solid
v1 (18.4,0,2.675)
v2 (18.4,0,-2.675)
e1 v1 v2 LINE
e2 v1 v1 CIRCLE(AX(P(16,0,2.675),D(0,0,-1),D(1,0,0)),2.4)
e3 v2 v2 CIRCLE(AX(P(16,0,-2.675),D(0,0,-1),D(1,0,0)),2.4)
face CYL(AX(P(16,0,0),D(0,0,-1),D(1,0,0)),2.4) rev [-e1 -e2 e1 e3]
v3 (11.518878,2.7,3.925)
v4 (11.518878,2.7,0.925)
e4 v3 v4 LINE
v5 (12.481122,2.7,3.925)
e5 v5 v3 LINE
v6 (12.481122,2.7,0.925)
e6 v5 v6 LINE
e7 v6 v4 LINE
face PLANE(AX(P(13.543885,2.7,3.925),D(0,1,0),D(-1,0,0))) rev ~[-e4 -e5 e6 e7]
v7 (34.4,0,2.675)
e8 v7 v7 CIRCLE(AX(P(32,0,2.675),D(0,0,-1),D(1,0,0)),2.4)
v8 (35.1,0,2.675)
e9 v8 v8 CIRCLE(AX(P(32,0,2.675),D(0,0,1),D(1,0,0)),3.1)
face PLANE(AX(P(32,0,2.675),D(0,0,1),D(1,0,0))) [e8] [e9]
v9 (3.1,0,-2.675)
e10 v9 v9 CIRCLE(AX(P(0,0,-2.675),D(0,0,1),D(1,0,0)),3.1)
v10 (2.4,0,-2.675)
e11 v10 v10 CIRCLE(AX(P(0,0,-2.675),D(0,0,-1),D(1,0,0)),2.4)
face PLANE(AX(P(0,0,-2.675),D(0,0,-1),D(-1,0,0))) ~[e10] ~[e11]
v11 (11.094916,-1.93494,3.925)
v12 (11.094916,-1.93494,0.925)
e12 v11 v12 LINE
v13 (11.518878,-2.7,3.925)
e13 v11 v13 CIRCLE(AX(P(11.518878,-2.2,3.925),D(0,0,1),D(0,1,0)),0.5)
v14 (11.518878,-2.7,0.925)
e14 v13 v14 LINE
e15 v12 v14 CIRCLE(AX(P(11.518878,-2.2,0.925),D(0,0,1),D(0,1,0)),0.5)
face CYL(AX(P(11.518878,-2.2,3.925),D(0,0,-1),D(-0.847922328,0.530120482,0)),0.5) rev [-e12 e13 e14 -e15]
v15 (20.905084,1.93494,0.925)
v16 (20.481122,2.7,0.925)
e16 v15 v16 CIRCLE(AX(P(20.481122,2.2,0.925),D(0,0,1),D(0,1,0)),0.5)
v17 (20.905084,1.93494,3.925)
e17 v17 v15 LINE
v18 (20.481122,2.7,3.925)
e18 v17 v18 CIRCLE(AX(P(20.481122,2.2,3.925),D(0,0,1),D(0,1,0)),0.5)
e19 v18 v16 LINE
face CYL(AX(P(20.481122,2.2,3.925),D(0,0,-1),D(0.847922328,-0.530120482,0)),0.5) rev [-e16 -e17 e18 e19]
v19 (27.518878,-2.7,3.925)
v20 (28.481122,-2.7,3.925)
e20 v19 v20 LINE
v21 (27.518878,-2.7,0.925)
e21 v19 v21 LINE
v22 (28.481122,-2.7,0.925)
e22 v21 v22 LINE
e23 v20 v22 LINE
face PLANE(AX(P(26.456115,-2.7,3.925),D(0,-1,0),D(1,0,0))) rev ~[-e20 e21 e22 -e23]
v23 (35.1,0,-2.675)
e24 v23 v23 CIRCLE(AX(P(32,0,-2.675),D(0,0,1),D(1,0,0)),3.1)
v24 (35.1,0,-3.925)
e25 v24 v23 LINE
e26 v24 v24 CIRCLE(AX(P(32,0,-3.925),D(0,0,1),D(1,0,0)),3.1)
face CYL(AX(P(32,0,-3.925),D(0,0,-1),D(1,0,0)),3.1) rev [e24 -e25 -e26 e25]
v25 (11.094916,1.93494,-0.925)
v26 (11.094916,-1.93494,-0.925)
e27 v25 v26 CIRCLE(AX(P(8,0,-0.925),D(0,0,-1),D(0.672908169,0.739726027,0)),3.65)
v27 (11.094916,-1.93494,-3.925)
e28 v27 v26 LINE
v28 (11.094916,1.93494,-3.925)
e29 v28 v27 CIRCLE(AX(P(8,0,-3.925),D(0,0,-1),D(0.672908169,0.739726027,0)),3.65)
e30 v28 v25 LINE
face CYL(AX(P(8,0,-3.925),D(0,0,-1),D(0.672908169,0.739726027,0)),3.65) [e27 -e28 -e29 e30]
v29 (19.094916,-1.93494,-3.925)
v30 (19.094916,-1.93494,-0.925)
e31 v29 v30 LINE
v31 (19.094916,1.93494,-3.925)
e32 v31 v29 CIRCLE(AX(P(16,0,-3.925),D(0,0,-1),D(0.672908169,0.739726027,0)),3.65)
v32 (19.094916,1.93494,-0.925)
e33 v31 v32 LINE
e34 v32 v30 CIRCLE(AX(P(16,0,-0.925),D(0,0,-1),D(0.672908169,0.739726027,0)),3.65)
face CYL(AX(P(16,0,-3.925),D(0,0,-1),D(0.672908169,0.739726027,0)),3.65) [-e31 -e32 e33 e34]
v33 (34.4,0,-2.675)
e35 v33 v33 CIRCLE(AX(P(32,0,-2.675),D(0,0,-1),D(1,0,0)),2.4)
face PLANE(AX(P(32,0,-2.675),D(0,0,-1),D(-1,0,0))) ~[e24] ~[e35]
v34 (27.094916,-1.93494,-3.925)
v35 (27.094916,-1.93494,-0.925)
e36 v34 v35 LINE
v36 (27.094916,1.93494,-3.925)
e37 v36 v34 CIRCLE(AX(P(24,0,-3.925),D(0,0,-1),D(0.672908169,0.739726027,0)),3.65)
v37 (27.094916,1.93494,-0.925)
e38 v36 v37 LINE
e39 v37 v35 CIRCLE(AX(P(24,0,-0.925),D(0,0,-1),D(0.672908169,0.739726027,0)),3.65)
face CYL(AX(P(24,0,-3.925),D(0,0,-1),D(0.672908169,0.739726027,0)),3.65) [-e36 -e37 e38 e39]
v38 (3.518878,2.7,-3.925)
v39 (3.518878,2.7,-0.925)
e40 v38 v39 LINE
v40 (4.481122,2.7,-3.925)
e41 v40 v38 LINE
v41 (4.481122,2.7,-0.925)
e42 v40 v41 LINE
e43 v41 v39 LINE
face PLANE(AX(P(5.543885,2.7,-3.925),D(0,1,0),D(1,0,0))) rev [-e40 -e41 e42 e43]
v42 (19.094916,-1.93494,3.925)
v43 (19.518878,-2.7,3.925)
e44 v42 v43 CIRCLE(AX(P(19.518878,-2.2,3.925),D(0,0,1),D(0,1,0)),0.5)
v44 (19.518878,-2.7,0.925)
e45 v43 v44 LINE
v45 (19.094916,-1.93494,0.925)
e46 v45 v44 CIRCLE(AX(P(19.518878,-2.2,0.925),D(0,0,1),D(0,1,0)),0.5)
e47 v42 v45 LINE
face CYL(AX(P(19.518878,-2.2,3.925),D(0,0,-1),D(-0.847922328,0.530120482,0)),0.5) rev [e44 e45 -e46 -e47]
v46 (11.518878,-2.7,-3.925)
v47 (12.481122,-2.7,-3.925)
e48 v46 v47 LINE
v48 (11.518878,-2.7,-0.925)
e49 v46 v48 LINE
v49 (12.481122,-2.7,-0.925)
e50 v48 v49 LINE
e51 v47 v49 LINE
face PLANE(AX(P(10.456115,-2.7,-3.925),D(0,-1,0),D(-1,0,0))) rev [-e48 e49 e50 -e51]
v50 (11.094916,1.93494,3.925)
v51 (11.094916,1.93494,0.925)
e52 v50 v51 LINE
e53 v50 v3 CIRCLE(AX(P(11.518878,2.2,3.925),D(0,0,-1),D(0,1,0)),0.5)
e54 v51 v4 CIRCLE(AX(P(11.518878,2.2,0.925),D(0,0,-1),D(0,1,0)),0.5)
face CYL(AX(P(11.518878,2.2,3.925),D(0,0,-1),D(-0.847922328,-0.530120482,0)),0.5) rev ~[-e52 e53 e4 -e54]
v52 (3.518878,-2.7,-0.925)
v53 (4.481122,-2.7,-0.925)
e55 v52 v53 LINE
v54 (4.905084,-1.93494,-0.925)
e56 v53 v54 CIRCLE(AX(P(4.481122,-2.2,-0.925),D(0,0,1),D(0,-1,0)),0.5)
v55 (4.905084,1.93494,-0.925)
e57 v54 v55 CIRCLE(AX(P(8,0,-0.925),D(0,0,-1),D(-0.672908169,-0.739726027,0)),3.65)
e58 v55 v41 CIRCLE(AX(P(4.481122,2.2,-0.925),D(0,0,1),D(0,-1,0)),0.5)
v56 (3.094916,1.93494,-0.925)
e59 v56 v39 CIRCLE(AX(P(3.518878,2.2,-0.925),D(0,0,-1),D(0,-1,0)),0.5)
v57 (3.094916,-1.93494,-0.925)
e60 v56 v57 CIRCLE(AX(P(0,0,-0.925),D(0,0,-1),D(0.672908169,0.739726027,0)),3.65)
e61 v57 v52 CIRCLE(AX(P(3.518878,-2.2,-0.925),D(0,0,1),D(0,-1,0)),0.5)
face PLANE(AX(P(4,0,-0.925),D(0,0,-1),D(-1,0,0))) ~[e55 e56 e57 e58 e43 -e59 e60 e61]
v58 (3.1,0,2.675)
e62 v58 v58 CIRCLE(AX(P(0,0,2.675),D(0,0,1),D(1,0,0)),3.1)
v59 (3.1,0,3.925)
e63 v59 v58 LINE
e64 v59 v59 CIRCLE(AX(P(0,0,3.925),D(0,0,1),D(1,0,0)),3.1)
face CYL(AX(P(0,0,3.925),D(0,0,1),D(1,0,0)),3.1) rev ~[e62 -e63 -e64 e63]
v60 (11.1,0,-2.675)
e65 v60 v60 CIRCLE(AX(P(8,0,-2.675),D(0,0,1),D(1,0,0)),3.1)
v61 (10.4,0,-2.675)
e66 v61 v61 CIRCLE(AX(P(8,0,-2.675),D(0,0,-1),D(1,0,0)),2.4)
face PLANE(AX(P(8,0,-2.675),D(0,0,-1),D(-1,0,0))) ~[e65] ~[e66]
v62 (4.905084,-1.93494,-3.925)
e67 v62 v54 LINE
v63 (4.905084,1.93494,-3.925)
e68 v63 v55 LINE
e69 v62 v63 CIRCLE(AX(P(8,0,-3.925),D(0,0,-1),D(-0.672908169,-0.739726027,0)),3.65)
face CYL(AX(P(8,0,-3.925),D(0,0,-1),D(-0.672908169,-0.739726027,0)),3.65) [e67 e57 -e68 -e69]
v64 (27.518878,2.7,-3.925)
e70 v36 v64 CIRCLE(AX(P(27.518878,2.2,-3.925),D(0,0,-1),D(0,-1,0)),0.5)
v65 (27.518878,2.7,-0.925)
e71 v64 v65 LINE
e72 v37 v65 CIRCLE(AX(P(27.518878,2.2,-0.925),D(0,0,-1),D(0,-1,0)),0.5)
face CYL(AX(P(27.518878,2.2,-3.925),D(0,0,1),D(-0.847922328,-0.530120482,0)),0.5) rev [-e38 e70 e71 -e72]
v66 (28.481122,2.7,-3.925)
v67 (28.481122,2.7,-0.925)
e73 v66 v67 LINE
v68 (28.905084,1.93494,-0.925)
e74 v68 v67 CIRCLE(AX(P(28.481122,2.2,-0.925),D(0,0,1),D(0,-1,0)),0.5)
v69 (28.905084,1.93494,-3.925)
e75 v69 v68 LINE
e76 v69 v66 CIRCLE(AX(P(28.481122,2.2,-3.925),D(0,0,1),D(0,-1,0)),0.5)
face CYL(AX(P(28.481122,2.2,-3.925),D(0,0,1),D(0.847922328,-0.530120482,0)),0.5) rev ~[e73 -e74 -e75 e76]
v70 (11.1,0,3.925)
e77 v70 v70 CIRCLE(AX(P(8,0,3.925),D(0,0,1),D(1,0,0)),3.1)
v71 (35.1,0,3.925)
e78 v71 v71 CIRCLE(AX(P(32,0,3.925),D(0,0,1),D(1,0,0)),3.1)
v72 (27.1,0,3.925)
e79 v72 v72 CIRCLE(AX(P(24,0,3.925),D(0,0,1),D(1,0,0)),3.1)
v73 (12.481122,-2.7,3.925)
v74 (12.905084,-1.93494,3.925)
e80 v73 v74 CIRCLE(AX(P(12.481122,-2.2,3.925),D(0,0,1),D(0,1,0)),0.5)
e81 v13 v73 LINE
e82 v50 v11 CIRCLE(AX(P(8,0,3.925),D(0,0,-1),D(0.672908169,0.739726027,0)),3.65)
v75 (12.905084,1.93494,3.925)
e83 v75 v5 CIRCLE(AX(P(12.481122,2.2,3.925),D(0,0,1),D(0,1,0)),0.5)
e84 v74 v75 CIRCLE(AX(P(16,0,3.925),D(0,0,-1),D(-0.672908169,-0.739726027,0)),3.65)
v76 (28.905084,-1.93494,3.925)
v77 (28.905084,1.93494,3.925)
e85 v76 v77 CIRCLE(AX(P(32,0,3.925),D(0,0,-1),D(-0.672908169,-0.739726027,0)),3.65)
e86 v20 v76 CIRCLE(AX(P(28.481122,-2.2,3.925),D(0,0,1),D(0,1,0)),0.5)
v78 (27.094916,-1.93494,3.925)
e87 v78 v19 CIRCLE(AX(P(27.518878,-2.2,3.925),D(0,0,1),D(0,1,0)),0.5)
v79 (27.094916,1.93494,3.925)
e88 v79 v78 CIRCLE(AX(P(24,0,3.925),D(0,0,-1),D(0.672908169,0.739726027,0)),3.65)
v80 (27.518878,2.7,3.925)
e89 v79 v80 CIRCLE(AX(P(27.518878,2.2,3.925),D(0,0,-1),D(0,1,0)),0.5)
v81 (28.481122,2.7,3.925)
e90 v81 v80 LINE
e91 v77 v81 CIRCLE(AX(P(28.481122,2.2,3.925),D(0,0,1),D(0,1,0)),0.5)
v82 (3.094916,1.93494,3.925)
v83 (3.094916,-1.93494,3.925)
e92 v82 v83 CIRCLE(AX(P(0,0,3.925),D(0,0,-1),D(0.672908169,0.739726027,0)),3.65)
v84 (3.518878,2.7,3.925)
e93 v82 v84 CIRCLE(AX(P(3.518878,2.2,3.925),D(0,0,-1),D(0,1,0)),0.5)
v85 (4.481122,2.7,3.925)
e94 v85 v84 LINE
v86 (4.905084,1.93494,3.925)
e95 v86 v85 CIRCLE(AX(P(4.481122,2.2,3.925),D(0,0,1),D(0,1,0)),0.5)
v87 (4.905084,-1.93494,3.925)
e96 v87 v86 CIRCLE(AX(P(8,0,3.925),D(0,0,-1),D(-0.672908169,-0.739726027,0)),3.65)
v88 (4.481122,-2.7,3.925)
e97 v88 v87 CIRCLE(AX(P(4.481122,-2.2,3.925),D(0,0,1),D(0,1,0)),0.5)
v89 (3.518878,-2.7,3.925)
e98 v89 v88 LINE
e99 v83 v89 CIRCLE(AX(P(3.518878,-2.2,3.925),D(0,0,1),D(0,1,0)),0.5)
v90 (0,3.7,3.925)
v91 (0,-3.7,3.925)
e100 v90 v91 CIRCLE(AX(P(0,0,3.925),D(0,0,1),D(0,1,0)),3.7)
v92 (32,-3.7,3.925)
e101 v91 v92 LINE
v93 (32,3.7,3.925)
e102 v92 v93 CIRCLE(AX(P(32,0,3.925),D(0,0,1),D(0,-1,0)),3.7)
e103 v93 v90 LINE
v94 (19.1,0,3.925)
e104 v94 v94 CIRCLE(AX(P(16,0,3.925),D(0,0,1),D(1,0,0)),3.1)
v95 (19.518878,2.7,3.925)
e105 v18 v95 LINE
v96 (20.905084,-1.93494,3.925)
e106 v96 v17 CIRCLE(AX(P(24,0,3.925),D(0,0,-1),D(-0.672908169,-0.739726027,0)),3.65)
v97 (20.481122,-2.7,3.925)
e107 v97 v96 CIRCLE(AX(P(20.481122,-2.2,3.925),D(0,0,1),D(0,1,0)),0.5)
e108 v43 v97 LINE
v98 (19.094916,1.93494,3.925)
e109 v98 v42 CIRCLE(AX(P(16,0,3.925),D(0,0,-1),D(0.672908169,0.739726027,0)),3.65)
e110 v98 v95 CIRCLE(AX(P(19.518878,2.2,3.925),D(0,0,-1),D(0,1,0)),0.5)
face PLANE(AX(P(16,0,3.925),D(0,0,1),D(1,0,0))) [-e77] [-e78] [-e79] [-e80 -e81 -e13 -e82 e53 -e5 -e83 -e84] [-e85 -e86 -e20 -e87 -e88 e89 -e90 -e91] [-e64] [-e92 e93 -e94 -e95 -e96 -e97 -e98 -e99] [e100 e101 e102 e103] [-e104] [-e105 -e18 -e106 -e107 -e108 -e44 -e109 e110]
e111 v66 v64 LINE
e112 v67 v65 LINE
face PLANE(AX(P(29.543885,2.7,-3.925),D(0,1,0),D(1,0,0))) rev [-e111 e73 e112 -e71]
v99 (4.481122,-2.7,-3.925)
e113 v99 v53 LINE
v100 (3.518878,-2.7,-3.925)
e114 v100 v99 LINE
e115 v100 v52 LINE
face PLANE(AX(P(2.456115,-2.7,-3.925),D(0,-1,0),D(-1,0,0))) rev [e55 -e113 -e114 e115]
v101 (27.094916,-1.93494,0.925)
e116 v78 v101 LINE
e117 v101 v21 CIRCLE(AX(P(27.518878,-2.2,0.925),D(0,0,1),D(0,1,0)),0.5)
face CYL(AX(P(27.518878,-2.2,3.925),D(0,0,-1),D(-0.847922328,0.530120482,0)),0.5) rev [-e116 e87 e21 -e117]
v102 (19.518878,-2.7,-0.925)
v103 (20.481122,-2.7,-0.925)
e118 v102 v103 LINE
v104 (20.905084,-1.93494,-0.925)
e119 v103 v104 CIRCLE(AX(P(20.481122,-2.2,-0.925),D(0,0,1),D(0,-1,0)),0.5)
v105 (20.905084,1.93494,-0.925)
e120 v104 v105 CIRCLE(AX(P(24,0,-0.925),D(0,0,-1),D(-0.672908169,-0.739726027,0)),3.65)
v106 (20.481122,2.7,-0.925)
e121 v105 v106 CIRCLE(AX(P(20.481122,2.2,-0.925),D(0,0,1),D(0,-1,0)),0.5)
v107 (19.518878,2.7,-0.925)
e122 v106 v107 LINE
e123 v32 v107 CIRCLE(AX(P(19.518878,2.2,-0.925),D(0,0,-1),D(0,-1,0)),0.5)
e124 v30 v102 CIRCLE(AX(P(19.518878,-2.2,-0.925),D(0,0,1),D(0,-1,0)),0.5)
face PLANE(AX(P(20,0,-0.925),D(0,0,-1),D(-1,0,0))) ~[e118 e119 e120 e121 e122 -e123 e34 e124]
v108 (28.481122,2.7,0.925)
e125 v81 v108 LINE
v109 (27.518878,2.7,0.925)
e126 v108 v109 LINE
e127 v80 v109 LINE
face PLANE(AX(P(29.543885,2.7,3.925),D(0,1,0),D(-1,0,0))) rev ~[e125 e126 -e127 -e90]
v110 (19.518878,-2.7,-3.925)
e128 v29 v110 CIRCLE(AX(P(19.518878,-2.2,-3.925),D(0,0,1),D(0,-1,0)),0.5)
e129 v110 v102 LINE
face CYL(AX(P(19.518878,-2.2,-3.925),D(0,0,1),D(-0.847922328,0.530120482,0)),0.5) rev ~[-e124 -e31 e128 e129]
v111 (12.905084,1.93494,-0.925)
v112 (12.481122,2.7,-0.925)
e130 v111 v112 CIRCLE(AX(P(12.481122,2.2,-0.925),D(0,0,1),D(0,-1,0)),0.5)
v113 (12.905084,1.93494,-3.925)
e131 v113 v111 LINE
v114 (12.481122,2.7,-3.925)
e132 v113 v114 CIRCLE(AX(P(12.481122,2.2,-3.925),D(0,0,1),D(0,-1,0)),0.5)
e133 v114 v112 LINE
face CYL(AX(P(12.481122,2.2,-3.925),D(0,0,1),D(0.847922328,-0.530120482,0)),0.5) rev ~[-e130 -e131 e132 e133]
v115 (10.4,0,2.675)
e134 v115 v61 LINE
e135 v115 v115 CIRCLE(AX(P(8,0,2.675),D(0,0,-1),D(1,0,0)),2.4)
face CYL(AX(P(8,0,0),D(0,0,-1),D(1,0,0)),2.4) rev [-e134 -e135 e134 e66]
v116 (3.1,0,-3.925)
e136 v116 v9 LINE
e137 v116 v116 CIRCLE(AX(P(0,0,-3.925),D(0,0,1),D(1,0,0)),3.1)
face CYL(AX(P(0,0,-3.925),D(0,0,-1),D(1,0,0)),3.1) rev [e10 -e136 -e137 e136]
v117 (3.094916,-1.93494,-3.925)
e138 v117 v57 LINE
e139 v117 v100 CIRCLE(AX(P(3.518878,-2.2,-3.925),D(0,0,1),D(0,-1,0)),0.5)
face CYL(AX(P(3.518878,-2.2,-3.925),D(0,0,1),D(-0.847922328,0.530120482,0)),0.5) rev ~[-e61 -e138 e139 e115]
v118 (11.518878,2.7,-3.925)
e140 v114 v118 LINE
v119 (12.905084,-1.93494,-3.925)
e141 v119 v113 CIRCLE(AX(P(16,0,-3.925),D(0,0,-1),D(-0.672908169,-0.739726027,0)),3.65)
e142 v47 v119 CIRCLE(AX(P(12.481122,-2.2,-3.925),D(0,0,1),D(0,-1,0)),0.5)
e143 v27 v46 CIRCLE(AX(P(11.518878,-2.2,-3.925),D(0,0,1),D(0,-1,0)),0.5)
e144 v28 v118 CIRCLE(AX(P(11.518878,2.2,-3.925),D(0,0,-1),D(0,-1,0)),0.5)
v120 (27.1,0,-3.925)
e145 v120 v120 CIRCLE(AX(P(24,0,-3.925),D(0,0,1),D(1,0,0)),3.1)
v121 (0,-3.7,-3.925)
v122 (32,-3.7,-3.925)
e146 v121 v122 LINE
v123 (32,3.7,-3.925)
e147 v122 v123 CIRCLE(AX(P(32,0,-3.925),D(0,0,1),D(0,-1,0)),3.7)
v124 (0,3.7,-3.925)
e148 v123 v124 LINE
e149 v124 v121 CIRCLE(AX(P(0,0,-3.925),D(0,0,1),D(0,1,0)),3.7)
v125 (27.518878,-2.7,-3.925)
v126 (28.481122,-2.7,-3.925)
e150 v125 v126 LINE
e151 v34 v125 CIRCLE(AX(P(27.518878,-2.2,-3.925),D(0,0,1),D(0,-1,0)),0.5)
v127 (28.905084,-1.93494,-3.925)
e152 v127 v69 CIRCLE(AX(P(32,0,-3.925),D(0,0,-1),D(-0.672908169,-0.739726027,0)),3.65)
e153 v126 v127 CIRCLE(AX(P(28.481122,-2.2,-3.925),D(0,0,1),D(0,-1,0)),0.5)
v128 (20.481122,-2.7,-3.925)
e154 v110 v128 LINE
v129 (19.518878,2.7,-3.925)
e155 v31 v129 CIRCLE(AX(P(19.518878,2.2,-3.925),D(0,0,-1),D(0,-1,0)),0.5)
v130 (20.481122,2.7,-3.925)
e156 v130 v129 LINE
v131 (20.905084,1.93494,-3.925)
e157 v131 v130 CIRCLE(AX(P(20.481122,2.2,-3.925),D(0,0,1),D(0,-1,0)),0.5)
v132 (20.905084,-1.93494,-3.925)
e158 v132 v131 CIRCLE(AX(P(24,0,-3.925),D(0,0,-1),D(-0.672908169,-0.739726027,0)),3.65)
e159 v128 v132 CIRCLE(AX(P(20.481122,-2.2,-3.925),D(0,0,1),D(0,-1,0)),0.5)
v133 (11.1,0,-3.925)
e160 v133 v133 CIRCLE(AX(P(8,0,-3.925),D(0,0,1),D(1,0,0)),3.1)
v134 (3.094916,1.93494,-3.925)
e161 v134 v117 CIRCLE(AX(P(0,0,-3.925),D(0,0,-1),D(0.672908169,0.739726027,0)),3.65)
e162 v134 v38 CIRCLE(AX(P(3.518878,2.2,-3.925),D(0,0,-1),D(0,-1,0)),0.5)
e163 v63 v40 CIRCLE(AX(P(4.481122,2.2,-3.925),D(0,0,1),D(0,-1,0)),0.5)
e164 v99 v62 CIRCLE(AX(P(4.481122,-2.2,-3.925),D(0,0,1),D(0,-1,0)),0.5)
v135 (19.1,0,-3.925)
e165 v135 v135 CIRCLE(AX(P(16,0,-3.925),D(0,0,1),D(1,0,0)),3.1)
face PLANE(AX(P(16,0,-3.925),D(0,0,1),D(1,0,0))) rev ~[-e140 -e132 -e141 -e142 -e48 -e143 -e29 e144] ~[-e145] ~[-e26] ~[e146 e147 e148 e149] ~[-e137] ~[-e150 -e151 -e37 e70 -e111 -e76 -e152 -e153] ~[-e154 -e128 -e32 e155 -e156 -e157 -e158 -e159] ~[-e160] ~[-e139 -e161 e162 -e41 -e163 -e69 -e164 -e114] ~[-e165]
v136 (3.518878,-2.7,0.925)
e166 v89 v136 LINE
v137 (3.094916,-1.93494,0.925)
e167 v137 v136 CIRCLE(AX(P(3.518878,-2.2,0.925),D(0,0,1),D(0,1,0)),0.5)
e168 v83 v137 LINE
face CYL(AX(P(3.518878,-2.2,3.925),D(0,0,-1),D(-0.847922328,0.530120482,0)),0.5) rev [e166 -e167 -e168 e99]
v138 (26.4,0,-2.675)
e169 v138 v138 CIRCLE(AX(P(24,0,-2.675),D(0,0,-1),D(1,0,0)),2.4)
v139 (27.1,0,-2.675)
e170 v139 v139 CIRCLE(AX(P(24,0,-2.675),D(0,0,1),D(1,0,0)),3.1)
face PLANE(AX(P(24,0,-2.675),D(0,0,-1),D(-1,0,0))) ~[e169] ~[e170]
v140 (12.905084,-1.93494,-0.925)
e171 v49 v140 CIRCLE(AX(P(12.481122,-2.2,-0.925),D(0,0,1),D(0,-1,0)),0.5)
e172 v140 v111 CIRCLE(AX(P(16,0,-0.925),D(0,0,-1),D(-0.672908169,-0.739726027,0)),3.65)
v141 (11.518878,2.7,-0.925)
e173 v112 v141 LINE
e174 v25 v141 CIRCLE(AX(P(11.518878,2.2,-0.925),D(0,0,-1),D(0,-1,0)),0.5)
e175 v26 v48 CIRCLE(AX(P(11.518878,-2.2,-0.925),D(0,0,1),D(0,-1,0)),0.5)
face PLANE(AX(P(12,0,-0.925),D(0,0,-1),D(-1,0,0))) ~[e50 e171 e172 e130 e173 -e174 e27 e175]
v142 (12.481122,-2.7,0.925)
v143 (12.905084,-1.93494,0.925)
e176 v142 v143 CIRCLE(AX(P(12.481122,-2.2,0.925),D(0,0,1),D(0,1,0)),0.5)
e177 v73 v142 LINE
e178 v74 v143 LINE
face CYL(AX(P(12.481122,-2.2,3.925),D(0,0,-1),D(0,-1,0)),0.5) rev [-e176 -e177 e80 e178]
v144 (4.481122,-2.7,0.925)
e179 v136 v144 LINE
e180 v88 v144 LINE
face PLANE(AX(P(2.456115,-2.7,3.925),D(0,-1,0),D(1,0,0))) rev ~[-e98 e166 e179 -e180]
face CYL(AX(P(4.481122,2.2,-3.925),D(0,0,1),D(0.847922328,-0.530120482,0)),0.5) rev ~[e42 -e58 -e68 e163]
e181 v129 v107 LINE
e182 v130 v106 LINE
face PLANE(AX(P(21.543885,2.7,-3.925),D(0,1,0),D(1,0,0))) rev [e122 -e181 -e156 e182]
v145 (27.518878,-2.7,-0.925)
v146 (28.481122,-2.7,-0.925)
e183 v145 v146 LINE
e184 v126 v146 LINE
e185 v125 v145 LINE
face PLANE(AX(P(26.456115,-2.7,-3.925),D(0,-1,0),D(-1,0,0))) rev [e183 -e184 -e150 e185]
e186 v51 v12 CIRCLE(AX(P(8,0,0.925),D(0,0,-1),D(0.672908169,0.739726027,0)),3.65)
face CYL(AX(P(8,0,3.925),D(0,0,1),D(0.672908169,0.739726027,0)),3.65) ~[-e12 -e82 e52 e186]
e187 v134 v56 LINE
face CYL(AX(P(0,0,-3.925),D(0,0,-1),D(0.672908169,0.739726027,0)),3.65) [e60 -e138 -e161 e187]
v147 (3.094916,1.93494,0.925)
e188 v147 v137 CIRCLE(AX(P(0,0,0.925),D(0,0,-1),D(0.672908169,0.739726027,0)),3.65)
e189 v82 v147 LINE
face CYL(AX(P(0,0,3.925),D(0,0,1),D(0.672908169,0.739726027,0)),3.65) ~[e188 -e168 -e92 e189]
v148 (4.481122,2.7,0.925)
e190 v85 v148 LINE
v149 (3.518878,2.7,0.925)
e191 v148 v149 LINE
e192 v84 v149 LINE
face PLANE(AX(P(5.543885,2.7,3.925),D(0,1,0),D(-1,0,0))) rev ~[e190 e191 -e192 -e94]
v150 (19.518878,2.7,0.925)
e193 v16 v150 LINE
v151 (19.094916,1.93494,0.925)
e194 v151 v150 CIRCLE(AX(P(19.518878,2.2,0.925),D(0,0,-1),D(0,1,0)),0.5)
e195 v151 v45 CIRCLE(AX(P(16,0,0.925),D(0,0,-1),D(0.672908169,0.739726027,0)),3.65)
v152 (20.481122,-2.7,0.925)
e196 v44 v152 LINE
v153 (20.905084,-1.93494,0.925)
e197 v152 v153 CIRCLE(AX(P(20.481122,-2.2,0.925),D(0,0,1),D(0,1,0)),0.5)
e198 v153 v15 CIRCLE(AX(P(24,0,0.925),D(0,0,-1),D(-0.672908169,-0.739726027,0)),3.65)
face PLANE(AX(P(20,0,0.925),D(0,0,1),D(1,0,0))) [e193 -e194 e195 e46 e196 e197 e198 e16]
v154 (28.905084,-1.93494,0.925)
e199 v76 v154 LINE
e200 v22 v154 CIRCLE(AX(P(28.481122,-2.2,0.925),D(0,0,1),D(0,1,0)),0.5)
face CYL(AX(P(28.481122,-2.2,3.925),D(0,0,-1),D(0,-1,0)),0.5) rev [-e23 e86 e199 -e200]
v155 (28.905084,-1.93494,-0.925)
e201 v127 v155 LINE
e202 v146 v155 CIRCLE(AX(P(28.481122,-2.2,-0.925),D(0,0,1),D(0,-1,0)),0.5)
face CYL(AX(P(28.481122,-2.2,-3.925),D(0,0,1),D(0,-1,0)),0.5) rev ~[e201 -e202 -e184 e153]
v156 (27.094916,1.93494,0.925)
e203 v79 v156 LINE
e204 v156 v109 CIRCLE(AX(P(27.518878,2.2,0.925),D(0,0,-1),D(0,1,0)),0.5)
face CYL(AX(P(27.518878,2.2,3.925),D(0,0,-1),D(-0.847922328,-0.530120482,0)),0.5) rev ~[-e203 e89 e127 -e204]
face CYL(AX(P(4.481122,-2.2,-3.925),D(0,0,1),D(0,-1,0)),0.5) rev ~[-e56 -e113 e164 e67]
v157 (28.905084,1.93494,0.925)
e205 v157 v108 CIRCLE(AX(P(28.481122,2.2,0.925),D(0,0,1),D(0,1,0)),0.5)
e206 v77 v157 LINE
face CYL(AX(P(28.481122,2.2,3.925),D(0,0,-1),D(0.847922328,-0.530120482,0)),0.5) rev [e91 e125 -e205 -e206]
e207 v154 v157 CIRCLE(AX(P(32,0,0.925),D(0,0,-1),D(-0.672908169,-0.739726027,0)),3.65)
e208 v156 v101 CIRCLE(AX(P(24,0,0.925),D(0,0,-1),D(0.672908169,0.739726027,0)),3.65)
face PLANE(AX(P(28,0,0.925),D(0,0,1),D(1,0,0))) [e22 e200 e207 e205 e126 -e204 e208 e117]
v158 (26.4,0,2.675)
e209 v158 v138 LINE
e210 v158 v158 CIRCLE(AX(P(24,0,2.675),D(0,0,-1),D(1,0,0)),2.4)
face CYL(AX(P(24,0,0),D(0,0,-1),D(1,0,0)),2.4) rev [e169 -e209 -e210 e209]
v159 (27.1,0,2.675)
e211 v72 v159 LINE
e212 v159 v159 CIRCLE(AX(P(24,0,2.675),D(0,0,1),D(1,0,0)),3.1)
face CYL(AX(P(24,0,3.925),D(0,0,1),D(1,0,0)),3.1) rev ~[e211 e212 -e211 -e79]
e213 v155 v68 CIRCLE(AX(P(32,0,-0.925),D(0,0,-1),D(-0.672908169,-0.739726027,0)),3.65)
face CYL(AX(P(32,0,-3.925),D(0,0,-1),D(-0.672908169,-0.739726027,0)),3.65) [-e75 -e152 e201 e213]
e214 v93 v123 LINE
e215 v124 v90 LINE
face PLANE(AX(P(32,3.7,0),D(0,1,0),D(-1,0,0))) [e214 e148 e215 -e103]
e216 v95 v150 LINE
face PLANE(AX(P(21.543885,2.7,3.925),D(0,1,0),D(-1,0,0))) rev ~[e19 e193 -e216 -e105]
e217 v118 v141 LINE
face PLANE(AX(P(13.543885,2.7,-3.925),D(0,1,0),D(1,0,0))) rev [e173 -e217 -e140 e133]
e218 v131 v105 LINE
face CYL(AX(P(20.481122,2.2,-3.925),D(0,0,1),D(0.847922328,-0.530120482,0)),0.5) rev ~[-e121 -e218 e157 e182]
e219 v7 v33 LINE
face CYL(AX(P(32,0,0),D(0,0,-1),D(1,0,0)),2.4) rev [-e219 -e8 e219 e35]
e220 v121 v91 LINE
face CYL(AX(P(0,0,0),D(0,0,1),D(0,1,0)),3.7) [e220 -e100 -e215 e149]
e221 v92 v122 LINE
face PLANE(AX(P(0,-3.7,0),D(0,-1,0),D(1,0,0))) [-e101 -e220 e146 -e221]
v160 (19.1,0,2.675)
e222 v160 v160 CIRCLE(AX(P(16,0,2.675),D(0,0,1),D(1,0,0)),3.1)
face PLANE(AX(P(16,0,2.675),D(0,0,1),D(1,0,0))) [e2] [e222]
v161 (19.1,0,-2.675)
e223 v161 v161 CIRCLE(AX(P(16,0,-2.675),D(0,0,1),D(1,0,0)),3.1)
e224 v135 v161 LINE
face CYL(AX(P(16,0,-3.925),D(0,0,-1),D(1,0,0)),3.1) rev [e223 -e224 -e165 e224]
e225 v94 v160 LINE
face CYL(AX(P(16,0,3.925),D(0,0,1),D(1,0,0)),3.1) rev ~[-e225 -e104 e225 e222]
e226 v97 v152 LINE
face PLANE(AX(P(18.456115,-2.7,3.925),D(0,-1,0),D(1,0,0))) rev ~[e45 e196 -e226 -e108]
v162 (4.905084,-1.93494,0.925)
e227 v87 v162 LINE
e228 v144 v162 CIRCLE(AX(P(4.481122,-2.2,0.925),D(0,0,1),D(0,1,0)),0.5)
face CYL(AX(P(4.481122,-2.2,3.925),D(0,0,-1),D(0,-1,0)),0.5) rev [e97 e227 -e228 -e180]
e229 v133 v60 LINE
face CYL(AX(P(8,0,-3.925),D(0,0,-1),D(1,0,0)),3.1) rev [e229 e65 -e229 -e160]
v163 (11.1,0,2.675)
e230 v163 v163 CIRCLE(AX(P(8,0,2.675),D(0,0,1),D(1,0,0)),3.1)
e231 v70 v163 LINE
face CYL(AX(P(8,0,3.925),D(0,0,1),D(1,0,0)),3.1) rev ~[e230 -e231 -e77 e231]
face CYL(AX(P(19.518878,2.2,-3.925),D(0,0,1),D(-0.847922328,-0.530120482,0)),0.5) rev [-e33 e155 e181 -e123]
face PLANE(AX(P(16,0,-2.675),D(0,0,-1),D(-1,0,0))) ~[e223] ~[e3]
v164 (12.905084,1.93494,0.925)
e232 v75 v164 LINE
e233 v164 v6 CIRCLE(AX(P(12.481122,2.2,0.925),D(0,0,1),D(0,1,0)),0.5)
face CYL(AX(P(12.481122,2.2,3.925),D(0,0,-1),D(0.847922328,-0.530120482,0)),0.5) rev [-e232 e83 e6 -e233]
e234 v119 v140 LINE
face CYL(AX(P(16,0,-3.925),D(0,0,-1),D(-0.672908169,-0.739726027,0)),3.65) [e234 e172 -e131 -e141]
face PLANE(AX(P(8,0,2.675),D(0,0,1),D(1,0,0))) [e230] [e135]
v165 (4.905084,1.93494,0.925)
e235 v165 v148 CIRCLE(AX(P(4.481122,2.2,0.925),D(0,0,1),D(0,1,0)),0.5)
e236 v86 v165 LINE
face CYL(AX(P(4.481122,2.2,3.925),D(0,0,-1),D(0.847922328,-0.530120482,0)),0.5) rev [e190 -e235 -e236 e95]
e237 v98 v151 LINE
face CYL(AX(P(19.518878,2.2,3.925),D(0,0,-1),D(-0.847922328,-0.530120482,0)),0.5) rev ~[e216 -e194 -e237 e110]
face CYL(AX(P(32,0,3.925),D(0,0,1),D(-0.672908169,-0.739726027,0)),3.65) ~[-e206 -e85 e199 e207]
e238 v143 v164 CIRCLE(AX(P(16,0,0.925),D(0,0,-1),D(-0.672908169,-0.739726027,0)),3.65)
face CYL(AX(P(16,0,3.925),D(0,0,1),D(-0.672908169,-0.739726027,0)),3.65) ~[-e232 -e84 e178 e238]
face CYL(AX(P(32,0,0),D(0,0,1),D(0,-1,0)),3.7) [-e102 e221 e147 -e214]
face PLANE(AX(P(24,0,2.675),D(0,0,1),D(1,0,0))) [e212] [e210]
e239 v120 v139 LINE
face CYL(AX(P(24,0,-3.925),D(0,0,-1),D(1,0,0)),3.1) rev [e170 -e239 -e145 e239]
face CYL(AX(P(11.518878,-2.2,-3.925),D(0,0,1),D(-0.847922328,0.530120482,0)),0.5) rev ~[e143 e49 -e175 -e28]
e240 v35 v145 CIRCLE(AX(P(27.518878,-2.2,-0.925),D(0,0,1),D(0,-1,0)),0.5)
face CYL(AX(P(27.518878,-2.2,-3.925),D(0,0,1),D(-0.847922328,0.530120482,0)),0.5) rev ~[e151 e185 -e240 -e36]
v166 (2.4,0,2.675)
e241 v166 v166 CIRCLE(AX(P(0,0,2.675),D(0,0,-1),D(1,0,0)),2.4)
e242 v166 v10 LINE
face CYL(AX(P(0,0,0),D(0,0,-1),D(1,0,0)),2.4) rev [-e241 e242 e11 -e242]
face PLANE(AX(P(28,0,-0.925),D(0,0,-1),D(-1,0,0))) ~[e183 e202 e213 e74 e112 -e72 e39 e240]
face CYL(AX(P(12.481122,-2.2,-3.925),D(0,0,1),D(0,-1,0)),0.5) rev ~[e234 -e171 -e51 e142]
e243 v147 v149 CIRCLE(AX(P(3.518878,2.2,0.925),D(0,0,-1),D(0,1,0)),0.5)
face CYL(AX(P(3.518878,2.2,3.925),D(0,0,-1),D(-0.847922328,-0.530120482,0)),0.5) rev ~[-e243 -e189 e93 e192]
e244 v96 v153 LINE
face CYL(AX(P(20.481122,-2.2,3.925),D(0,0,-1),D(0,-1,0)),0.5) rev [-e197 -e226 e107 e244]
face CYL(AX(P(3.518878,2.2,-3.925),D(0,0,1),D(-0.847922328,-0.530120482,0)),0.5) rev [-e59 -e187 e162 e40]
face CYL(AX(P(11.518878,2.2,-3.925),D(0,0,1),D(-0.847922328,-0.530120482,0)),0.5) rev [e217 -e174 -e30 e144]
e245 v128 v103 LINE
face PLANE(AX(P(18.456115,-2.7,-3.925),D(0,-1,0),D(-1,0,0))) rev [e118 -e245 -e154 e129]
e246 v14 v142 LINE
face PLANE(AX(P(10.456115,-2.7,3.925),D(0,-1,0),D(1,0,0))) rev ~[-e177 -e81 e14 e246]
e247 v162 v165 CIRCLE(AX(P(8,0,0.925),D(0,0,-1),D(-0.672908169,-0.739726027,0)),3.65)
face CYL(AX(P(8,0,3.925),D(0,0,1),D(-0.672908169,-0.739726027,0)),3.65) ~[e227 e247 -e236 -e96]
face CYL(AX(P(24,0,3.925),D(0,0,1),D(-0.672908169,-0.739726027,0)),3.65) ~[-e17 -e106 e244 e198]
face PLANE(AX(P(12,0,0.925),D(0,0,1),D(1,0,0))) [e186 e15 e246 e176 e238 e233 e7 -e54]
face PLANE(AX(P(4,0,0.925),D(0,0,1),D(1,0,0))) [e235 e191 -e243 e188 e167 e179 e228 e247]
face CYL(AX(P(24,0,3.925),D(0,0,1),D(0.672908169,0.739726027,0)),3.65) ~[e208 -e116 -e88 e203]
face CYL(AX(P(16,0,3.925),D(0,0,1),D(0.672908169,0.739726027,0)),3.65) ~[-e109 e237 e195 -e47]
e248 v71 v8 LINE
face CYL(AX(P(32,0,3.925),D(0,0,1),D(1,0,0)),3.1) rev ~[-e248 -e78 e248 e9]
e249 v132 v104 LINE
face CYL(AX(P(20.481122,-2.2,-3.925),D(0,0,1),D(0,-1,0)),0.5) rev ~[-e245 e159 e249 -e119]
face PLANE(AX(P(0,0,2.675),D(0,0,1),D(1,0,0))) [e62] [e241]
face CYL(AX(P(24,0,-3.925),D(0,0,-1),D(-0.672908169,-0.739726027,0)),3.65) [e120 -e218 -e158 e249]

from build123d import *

# Parameters (mm, degrees)
SKETCH1_R            = 2.4
BEAM_DEPTH           = 3.925
SKETCH3_R            = 3.1
HOLE_SURROUND_DEPTH  = 1.25
CAVITY_CUT_DEPTH     = 3
FILLET2_R            = 0.5
FILLET2_OF_MIRROR2_R = 0.5


with BuildPart() as part:
    # Sketch1 → Beam (new, symmetric)
    with BuildSketch(Plane.XY):
        with BuildLine():
            Line((32, 3.7), (0, 3.7))
            ThreePointArc((0, 3.7), (-3.7, 0), (0, -3.7))
            Line((0, -3.7), (32, -3.7))
            ThreePointArc((32, -3.7), (35.7, 0), (32, 3.7))
        make_face()
        Circle(SKETCH1_R, mode=Mode.SUBTRACT)
        with Locations((8, 0)):
            Circle(SKETCH1_R, mode=Mode.SUBTRACT)
        with Locations((16, 0)):
            Circle(SKETCH1_R, mode=Mode.SUBTRACT)
        with Locations((24, 0)):
            Circle(SKETCH1_R, mode=Mode.SUBTRACT)
        with Locations((32, 0)):
            Circle(SKETCH1_R, mode=Mode.SUBTRACT)
    extrude(amount=BEAM_DEPTH, both=True)

    # Sketch3 → Hole Surround (cut)
    with BuildSketch(Plane.XY.offset(3.925)):
        with Locations((32, 0)):
            Circle(SKETCH3_R)
        with Locations((24, 0)):
            Circle(SKETCH3_R)
        with Locations((16, 0)):
            Circle(SKETCH3_R)
        with Locations((8, 0)):
            Circle(SKETCH3_R)
        Circle(SKETCH3_R)
    hole_surround = extrude(amount=-HOLE_SURROUND_DEPTH, mode=Mode.SUBTRACT)

    # Sketch4 → Cavity Cut (cut)
    with BuildSketch(Plane.XY.offset(3.925)):
        with BuildLine():
            ThreePointArc((2.456114818, 2.7), (3.65, 0), (2.456114818, -2.7))
            Line((2.456114818, -2.7), (5.543885182, -2.7))
            ThreePointArc((5.543885182, -2.7), (4.35, 0), (5.543885182, 2.7))
            Line((5.543885182, 2.7), (2.456114818, 2.7))
        make_face()
        with BuildLine():
            ThreePointArc((10.456114818, 2.7), (11.65, 0), (10.456114818, -2.7))
            Line((10.456114818, -2.7), (13.543885182, -2.7))
            ThreePointArc((13.543885182, -2.7), (12.35, 0), (13.543885182, 2.7))
            Line((13.543885182, 2.7), (10.456114818, 2.7))
        make_face()
        with BuildLine():
            ThreePointArc((18.456114818, 2.7), (19.65, 0), (18.456114818, -2.7))
            Line((18.456114818, -2.7), (21.543885182, -2.7))
            ThreePointArc((21.543885182, -2.7), (20.35, 0), (21.543885182, 2.7))
            Line((21.543885182, 2.7), (18.456114818, 2.7))
        make_face()
        with BuildLine():
            ThreePointArc((26.456114818, 2.7), (27.65, 0), (26.456114818, -2.7))
            Line((26.456114818, -2.7), (29.543885182, -2.7))
            ThreePointArc((29.543885182, -2.7), (28.35, 0), (29.543885182, 2.7))
            Line((29.543885182, 2.7), (26.456114818, 2.7))
        make_face()
    cavity_cut = extrude(amount=-CAVITY_CUT_DEPTH, mode=Mode.SUBTRACT)

    # Fillet2
    fillet2_edges = [part.edges().sort_by_distance(p)[0] for p in [
        (29.543885182, 2.7, 2.425),
        (29.543885182, -2.7, 2.425),
        (26.456114818, 2.7, 2.425),
        (26.456114818, -2.7, 2.425),
        (21.543885182, 2.7, 2.425),
        (18.456114818, 2.7, 2.425),
        (18.456114818, -2.7, 2.425),
        (21.543885182, -2.7, 2.425),
        (13.543885182, -2.7, 2.425),
        (10.456114818, -2.7, 2.425),
        (13.543885182, 2.7, 2.425),
        (10.456114818, 2.7, 2.425),
        (5.543885182, -2.7, 2.425),
        (5.543885182, 2.7, 2.425),
        (2.456114818, -2.7, 2.425),
        (2.456114818, 2.7, 2.425),
    ]]
    fillet(fillet2_edges, radius=FILLET2_R)

    # Mirror2: Hole Surround, Cavity Cut across plane
    add(hole_surround.mirror(Plane.XY), mode=Mode.SUBTRACT)
    add(cavity_cut.mirror(Plane.XY), mode=Mode.SUBTRACT)

    # Fillet2 of Mirror2
    fillet2_of_mirror2_edges = [part.edges().sort_by_distance(p)[0] for p in [
        (29.543885182, 2.7, -2.425),
        (29.543885182, -2.7, -2.425),
        (26.456114818, 2.7, -2.425),
        (26.456114818, -2.7, -2.425),
        (21.543885182, 2.7, -2.425),
        (18.456114818, 2.7, -2.425),
        (18.456114818, -2.7, -2.425),
        (21.543885182, -2.7, -2.425),
        (13.543885182, -2.7, -2.425),
        (10.456114818, -2.7, -2.425),
        (13.543885182, 2.7, -2.425),
        (10.456114818, 2.7, -2.425),
        (5.543885182, -2.7, -2.425),
        (5.543885182, 2.7, -2.425),
        (2.456114818, -2.7, -2.425),
        (2.456114818, 2.7, -2.425),
    ]]
    fillet(fillet2_of_mirror2_edges, radius=FILLET2_OF_MIRROR2_R)


solid = part.part
